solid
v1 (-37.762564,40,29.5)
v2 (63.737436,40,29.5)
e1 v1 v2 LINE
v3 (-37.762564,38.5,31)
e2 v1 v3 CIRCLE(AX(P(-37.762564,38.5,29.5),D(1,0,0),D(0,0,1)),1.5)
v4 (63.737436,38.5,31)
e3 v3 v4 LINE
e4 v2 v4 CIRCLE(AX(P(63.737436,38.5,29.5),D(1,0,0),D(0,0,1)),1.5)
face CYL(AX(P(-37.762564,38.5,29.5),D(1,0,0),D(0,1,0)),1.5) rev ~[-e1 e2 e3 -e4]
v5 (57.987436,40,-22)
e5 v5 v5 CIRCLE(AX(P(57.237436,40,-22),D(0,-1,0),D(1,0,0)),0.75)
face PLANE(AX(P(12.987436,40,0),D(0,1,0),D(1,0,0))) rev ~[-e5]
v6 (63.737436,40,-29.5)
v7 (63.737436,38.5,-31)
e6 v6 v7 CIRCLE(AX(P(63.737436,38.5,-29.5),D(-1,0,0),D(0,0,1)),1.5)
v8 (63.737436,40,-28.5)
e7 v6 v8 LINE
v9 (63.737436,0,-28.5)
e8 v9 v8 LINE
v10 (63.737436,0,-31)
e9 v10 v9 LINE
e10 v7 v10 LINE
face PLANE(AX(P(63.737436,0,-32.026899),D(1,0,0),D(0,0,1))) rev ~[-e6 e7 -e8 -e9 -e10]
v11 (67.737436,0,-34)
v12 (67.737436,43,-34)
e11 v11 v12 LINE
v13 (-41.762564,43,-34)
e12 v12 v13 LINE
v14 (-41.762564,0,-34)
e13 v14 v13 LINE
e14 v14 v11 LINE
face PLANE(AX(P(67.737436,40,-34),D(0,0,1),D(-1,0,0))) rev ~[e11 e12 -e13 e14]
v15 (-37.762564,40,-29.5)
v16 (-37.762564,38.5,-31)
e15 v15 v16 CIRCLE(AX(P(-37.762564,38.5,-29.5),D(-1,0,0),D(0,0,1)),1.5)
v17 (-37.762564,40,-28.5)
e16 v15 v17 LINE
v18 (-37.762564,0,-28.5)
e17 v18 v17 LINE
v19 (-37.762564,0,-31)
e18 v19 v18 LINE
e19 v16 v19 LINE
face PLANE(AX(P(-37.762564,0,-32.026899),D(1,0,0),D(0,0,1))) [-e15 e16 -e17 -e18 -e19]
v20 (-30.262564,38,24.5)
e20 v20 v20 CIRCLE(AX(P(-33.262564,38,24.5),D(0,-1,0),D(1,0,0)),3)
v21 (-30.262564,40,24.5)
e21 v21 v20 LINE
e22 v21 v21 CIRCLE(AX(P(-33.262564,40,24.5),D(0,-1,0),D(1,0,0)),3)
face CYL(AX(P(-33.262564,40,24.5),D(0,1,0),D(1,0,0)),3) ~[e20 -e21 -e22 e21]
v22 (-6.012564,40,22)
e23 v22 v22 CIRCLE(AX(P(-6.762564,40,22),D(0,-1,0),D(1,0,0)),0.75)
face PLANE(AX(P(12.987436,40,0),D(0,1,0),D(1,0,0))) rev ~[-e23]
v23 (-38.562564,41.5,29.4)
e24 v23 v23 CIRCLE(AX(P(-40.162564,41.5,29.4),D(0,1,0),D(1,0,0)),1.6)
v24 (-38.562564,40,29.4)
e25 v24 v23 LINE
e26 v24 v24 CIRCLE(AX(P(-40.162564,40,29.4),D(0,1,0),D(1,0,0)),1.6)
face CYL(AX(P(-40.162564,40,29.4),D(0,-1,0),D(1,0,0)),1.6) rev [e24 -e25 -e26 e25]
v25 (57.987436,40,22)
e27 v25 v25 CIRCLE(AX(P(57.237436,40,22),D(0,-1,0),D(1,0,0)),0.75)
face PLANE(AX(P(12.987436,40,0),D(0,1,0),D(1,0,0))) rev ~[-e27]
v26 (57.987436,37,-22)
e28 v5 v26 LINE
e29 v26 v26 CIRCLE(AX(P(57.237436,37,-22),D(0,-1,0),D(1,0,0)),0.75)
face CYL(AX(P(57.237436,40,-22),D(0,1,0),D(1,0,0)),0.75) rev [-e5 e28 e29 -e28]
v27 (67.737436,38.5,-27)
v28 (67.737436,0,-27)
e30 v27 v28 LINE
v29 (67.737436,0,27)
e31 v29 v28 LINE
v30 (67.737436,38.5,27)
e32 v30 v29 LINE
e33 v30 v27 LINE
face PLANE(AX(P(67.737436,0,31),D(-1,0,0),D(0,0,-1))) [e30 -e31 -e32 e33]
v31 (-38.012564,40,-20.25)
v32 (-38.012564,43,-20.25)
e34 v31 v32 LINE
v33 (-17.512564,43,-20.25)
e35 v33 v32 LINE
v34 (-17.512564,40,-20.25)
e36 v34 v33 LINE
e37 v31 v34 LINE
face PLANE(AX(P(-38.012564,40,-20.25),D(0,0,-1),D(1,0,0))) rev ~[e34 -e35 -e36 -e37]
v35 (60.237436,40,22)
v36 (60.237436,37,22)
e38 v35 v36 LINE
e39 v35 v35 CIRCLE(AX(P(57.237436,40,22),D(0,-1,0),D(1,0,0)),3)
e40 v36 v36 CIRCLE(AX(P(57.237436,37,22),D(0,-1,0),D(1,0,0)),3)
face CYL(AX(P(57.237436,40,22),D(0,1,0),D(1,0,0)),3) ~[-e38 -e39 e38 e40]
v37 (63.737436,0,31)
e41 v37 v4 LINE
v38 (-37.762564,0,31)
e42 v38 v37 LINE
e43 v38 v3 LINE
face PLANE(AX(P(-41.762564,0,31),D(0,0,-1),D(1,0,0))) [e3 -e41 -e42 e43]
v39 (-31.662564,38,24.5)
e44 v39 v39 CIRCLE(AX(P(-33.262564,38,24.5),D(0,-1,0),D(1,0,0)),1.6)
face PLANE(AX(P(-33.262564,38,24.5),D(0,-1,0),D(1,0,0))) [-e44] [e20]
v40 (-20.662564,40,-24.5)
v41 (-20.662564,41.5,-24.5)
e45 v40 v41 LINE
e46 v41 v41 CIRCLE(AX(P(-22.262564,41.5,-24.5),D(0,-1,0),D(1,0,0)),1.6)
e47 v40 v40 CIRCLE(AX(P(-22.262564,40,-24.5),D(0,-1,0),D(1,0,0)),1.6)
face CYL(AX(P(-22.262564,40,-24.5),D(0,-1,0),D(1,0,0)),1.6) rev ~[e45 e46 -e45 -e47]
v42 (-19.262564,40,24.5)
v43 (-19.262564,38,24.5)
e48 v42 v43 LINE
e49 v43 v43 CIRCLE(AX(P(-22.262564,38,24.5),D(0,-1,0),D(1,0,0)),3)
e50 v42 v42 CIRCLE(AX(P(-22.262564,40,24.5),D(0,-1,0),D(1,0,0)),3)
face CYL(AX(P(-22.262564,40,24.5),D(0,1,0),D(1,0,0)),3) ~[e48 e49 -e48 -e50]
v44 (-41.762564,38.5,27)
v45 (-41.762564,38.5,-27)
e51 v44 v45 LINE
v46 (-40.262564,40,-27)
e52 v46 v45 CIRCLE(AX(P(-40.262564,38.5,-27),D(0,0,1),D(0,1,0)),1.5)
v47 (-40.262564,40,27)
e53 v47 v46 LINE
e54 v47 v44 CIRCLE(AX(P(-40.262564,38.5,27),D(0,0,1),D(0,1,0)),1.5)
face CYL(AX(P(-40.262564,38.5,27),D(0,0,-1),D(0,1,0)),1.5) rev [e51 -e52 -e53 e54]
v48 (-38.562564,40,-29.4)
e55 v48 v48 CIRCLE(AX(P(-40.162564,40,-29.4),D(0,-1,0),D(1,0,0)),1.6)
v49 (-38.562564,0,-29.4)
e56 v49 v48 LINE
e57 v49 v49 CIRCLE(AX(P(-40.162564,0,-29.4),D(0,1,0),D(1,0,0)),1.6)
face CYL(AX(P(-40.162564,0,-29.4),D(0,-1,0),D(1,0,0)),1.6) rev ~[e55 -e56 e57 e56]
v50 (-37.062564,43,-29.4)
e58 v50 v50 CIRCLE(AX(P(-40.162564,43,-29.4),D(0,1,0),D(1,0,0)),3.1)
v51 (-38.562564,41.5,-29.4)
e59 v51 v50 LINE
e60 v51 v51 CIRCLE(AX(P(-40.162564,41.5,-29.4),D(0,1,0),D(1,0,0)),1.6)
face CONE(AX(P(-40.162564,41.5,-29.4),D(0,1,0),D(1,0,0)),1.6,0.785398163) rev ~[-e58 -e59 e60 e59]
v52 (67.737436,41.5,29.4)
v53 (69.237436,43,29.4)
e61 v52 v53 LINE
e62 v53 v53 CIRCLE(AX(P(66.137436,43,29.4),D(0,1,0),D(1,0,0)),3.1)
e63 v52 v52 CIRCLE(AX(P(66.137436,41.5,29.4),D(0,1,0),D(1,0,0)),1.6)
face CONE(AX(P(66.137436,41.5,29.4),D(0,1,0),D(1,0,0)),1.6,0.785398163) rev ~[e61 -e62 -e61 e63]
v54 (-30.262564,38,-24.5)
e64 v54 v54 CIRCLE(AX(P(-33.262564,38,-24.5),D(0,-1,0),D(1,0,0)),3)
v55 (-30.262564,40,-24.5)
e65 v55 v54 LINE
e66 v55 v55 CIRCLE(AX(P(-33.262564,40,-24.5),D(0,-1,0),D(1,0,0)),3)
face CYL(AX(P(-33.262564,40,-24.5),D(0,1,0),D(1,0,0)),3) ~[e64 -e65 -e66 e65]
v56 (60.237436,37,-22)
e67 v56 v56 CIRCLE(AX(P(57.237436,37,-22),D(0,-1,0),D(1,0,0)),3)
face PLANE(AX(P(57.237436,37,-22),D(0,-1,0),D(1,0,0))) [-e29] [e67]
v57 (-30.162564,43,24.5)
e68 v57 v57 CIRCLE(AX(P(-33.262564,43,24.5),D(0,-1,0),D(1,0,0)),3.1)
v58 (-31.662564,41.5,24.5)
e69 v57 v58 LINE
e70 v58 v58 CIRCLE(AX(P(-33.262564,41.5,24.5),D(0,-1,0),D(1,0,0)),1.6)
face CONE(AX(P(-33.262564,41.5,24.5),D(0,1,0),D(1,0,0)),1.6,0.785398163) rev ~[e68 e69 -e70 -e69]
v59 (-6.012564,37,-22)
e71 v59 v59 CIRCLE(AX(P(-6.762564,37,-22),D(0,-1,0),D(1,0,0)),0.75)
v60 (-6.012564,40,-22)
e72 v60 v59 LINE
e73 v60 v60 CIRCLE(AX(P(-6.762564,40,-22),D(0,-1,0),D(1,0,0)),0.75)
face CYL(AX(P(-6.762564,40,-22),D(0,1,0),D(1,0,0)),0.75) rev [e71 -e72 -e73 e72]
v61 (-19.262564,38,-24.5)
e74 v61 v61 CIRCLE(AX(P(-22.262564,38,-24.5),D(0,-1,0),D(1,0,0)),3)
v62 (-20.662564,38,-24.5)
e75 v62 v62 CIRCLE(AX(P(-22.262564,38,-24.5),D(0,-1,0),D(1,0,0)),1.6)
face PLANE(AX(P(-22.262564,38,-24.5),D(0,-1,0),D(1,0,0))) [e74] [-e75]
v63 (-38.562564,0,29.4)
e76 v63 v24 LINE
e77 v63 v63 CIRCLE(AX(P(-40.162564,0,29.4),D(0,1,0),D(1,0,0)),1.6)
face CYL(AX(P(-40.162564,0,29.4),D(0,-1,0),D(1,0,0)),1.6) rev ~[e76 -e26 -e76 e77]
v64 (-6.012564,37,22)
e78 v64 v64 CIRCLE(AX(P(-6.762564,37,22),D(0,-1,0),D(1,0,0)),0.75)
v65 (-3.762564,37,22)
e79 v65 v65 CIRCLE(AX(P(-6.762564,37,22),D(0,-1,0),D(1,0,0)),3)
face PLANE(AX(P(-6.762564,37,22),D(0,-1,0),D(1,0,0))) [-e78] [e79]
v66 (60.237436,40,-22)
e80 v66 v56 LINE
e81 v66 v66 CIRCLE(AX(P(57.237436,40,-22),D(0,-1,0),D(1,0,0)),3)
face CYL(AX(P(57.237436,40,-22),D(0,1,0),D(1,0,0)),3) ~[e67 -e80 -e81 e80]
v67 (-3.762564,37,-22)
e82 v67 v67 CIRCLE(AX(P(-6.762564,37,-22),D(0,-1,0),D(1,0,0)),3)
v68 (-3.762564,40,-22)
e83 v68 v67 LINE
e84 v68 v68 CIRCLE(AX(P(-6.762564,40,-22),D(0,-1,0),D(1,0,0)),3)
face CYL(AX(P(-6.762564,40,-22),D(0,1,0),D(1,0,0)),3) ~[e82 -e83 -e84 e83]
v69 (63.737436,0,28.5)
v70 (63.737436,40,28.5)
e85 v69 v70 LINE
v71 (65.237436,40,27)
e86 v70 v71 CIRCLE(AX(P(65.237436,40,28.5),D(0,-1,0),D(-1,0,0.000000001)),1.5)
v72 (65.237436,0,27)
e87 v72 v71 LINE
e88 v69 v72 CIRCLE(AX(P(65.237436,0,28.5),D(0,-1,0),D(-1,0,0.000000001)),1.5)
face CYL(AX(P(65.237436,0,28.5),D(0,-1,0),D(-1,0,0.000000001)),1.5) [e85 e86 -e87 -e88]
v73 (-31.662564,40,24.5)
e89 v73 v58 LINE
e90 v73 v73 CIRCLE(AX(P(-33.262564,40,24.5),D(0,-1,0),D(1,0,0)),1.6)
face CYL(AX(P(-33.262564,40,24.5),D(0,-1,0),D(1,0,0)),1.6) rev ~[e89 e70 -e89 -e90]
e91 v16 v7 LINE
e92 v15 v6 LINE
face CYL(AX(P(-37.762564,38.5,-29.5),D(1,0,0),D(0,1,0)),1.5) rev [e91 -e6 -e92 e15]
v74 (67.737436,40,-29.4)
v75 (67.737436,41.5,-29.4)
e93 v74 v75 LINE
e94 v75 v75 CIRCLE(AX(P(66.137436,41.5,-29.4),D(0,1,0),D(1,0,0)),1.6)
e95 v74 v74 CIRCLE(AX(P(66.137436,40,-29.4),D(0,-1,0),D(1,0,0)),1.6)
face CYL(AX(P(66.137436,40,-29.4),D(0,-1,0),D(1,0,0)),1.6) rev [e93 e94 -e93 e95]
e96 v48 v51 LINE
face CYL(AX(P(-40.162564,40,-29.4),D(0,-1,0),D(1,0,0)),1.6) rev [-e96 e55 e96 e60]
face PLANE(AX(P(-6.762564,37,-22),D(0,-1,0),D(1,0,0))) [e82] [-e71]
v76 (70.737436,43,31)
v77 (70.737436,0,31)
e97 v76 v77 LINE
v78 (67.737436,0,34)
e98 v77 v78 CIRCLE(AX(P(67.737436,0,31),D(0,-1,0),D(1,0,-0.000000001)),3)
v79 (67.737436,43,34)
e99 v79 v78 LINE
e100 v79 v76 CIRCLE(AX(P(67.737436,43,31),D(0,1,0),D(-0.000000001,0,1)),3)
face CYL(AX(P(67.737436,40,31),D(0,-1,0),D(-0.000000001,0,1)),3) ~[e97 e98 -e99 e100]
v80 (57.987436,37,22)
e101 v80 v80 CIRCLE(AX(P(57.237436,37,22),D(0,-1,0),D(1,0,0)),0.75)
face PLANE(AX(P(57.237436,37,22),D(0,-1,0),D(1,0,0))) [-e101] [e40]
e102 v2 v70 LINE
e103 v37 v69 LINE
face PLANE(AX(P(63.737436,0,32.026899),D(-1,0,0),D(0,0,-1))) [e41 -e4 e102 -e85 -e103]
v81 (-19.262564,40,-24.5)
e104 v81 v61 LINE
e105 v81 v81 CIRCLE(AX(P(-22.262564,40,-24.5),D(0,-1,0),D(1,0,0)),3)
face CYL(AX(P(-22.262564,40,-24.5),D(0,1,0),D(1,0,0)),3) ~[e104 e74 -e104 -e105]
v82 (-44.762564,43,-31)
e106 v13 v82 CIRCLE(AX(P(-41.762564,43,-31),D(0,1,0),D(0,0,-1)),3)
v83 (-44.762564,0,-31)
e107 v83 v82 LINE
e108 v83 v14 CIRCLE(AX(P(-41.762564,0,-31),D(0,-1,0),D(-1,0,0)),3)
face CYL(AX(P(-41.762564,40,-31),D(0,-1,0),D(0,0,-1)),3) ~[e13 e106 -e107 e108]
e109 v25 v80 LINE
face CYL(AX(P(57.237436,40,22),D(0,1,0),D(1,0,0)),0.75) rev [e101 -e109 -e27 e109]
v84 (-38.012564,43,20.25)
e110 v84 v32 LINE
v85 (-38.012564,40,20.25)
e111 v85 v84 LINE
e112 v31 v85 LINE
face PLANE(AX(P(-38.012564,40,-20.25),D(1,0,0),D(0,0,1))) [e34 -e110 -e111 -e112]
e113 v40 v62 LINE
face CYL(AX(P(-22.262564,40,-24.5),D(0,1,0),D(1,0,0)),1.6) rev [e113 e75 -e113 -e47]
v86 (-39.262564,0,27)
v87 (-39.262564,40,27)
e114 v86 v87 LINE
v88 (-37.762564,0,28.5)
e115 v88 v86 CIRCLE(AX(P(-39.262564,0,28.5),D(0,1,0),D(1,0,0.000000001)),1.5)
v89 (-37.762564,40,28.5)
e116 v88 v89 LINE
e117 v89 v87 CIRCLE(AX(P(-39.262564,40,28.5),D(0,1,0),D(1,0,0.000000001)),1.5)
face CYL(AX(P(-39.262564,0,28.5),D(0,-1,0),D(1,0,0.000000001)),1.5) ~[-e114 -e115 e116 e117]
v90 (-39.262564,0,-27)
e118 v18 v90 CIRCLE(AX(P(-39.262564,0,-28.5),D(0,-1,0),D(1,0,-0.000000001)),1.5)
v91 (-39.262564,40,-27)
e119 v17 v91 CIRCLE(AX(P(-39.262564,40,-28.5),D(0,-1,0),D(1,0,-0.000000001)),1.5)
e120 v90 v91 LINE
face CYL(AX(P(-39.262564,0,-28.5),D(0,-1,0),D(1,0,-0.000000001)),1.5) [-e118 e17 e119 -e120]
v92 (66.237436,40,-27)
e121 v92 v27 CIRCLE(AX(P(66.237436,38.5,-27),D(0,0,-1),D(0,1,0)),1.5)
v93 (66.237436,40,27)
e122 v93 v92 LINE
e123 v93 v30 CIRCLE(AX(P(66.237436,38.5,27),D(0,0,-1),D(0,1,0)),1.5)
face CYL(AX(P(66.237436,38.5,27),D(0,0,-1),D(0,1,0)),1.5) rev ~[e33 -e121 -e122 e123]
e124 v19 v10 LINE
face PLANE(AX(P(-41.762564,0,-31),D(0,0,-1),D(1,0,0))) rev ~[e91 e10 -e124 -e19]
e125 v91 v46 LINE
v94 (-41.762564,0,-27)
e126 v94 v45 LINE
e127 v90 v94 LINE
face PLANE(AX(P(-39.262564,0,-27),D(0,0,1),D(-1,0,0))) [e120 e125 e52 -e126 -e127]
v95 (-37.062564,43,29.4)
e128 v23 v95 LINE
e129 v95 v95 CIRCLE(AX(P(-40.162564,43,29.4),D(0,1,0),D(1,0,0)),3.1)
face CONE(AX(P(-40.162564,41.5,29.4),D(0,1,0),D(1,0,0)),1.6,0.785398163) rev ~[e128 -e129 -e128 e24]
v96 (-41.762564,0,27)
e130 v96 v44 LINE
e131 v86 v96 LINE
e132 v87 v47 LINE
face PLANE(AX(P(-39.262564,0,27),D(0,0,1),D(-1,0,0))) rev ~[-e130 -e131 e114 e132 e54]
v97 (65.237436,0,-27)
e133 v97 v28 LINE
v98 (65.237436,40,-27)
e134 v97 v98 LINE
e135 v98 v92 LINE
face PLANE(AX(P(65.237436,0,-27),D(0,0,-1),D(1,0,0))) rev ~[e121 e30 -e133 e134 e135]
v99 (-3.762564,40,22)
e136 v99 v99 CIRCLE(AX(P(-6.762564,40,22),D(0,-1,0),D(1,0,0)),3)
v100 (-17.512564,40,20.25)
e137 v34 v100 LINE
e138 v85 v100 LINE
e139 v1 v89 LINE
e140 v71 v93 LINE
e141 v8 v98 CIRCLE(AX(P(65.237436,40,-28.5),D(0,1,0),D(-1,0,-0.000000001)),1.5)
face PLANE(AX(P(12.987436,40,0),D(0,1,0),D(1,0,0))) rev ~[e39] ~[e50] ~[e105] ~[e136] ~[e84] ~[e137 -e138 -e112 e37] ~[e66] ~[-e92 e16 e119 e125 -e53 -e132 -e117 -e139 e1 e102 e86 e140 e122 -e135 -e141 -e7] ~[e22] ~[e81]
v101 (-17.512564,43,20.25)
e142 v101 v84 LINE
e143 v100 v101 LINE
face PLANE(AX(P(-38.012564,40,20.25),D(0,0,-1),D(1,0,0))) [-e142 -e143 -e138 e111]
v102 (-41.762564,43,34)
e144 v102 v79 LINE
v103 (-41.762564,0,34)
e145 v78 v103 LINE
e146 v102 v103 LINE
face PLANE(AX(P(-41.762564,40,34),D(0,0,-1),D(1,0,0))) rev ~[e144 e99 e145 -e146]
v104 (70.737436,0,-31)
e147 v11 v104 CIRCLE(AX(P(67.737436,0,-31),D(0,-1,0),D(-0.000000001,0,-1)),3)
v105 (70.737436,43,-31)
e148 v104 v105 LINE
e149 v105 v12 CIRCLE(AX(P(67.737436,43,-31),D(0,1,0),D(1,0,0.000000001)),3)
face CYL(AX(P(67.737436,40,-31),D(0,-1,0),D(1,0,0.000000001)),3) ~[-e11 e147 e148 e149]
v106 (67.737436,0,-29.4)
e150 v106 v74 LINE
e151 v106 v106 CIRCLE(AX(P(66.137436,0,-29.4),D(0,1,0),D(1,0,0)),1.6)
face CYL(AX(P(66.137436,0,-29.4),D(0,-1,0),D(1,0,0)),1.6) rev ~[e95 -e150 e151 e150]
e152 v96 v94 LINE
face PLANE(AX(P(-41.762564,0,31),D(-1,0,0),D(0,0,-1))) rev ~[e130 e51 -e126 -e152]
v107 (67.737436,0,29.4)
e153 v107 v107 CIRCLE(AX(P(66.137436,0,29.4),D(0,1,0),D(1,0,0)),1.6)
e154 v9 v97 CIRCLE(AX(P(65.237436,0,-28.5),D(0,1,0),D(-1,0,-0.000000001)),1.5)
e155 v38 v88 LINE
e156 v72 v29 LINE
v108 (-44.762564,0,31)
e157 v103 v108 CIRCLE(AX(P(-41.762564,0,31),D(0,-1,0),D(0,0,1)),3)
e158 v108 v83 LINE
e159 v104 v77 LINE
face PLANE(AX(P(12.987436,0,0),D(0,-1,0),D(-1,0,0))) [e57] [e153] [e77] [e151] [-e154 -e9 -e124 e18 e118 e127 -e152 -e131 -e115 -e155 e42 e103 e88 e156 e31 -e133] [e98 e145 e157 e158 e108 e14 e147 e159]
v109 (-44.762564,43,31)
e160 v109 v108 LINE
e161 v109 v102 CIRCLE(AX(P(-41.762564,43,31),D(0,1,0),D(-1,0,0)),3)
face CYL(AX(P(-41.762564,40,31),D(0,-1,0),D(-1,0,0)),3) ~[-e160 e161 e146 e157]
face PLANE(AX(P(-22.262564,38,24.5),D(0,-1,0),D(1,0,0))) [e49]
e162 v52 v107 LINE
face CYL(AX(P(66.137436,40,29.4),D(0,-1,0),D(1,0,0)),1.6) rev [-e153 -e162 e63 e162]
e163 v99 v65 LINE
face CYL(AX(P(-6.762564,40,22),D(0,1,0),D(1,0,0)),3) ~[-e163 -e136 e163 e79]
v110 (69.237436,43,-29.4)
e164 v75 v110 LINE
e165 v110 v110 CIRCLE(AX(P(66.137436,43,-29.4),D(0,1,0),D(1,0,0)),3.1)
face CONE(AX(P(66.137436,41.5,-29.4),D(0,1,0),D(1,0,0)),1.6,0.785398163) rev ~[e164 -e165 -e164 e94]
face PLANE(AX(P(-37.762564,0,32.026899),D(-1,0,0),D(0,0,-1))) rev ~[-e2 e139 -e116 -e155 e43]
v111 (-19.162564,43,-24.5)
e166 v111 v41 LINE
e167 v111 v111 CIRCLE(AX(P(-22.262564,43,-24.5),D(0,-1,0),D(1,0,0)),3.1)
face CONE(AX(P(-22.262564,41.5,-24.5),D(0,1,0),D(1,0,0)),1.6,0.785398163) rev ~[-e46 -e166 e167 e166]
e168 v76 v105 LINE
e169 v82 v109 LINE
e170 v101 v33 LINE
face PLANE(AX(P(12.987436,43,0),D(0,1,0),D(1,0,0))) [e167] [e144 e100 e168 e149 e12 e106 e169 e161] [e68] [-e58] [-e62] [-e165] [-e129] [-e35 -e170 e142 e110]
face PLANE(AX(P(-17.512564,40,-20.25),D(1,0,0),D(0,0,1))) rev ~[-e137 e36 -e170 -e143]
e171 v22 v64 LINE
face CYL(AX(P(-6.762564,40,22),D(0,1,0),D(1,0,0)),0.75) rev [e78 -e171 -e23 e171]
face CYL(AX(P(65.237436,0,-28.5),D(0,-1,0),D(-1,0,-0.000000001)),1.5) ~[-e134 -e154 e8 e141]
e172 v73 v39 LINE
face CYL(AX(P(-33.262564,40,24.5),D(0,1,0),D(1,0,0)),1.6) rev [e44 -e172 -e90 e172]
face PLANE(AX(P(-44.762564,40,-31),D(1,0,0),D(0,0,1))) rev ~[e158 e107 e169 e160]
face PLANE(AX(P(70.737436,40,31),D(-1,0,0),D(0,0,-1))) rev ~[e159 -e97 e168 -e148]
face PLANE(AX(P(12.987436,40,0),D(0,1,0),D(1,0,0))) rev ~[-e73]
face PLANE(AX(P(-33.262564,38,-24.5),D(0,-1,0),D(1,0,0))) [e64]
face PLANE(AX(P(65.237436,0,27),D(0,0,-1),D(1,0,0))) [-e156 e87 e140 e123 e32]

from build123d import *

# Parameters (mm, degrees)
SKETCH_3_W          = 109.5
SKETCH_3_H          = 62
EXTRUDE_2_DEPTH     = 40
SKETCH_5_R          = 1.6
EXTRUDE_2_2_DEPTH   = 40
SKETCH_7_R          = 1.6
EXTRUDE_3_DEPTH     = 3
CHAMFER_1_SIZE      = 1.5
SKETCH_9_R          = 3
SKETCH_9_R_2        = 0.75
EXTRUDE_4_DEPTH     = 3
SKETCH_10_R         = 1.6
SKETCH_10_W         = 20.5
SKETCH_10_H         = 40.5
CUT_EXTRUDE_1_DEPTH = 4
CHAMFER_2_SIZE      = 1.5
FILLET_2_R          = 1.5
FILLET_3_R          = 1.5
SKETCH_12_R         = 3
SKETCH_12_R_2       = 1.6
EXTRUDE_5_DEPTH     = 2


with BuildPart() as part:
    # Эскиз3 → Extrude 2 (new body)
    with BuildSketch(Plane(origin=(0, 0, 0), x_dir=(1, 0, 0), z_dir=(0, 1, 0))):
        with BuildLine():
            Line((-41.762564045, 34), (67.737435955, 34))
            ThreePointArc((67.737435955, 34), (69.858756299, 33.121320344), (70.737435955, 31))
            Line((70.737435955, 31), (70.737435955, -31))
            ThreePointArc((70.737435955, -31), (69.858756299, -33.121320344), (67.737435955, -34))
            Line((67.737435955, -34), (-41.762564045, -34))
            ThreePointArc((-41.762564045, -34), (-43.883884388, -33.121320344), (-44.762564045, -31))
            Line((-44.762564045, -31), (-44.762564045, 31))
            ThreePointArc((-44.762564045, 31), (-43.883884388, 33.121320344), (-41.762564045, 34))
        make_face()
        with Locations((12.987435955, 0)):
            Rectangle(SKETCH_3_W, SKETCH_3_H, mode=Mode.SUBTRACT)
    extrude(amount=EXTRUDE_2_DEPTH)

    # Эскиз5 → Extrude 2 2 (add)
    with BuildSketch(Plane.XZ):
        with BuildLine():
            Line((-43.498616626, 27), (-43.498616626, 32.026898844))
            Line((-43.498616626, 32.026898844), (-37.762564045, 32.026898844))
            Line((-37.762564045, 32.026898844), (-37.762564045, 28.5))
            ThreePointArc((-37.762564045, 28.5), (-38.201903873, 27.439339828), (-39.262564045, 27))
            Line((-39.262564045, 27), (-43.498616626, 27))
        make_face()
        with Locations((-40.162564045, 29.4)):
            Circle(SKETCH_5_R, mode=Mode.SUBTRACT)
        with BuildLine():
            Line((-43.498616626, -32.026898844), (-37.762564045, -32.026898844))
            Line((-37.762564045, -32.026898844), (-37.762564045, -28.5))
            ThreePointArc((-37.762564045, -28.5), (-38.201903873, -27.439339828), (-39.262564045, -27))
            Line((-39.262564045, -27), (-43.498616626, -27))
            Line((-43.498616626, -27), (-43.498616626, -32.026898844))
        make_face()
        with Locations((-40.162564045, -29.4)):
            Circle(SKETCH_5_R, mode=Mode.SUBTRACT)
        with BuildLine():
            Line((69.473488536, -27), (69.473488536, -32.026898844))
            Line((69.473488536, -32.026898844), (63.737435955, -32.026898844))
            Line((63.737435955, -32.026898844), (63.737435955, -28.5))
            ThreePointArc((63.737435955, -28.5), (64.176775783, -27.439339828), (65.237435955, -27))
            Line((65.237435955, -27), (69.473488536, -27))
        make_face()
        with Locations((66.137435955, -29.4)):
            Circle(SKETCH_5_R, mode=Mode.SUBTRACT)
        with BuildLine():
            Line((69.473488536, 32.026898844), (63.737435955, 32.026898844))
            Line((63.737435955, 32.026898844), (63.737435955, 28.5))
            ThreePointArc((63.737435955, 28.5), (64.176775783, 27.439339828), (65.237435955, 27))
            Line((65.237435955, 27), (69.473488536, 27))
            Line((69.473488536, 27), (69.473488536, 32.026898844))
        make_face()
        with Locations((66.137435955, 29.4)):
            Circle(SKETCH_5_R, mode=Mode.SUBTRACT)
    extrude(amount=-EXTRUDE_2_2_DEPTH)

    # Эскиз7 → Бобышка-Вытянуть3 (add)
    with BuildSketch(Plane(origin=(0, 40, 0), x_dir=(1, 0, 0), z_dir=(0, 1, 0))):
        with BuildLine():
            Line((70.737435955, -31), (70.737435955, 31))
            ThreePointArc((70.737435955, 31), (69.858756299, 33.121320344), (67.737435955, 34))
            Line((67.737435955, 34), (-41.762564045, 34))
            ThreePointArc((-41.762564045, 34), (-43.883884388, 33.121320344), (-44.762564045, 31))
            Line((-44.762564045, 31), (-44.762564045, -31))
            ThreePointArc((-44.762564045, -31), (-43.883884388, -33.121320344), (-41.762564045, -34))
            Line((-41.762564045, -34), (67.737435955, -34))
            ThreePointArc((67.737435955, -34), (69.858756299, -33.121320344), (70.737435955, -31))
        make_face()
        with Locations((66.137435955, 29.4)):
            Circle(SKETCH_7_R, mode=Mode.SUBTRACT)
        with Locations((66.137435955, -29.4)):
            Circle(SKETCH_7_R, mode=Mode.SUBTRACT)
        with Locations((-40.162564045, -29.4)):
            Circle(SKETCH_7_R, mode=Mode.SUBTRACT)
        with Locations((-40.162564045, 29.4)):
            Circle(SKETCH_7_R, mode=Mode.SUBTRACT)
    extrude(amount=EXTRUDE_3_DEPTH)

    # Фаска1
    chamfer_1_edges = [part.edges().sort_by_distance(p)[0] for p in [
        (64.537435955, 43, -29.4),
        (64.537435955, 43, 29.4),
        (-41.762564045, 43, 29.4),
        (-41.762564045, 43, -29.4),
    ]]
    chamfer(chamfer_1_edges, length=CHAMFER_1_SIZE)

    # Эскиз9 → Бобышка-Вытянуть4 (add)
    with BuildSketch(Plane.XZ.offset(-40)):
        with Locations((-6.762564044, 22.000000001)):
            Circle(SKETCH_9_R)
        with Locations((-6.762564044, 22.000000001)):
            Circle(SKETCH_9_R_2, mode=Mode.SUBTRACT)
        with Locations((57.237435954, 22.000000001)):
            Circle(SKETCH_9_R)
        with Locations((57.237435954, 22.000000001)):
            Circle(SKETCH_9_R_2, mode=Mode.SUBTRACT)
        with Locations((57.237435954, -21.999999999)):
            Circle(SKETCH_9_R)
        with Locations((57.237435954, -21.999999999)):
            Circle(SKETCH_9_R_2, mode=Mode.SUBTRACT)
        with Locations((-6.762564044, -21.999999999)):
            Circle(SKETCH_9_R)
        with Locations((-6.762564044, -21.999999999)):
            Circle(SKETCH_9_R_2, mode=Mode.SUBTRACT)
    extrude(amount=EXTRUDE_4_DEPTH)

    # Эскиз10 → Вырез-Вытянуть1 (cut, through all)
    with BuildSketch(Plane.XZ.offset(-40)):
        with Locations((-33.262564045, 24.5)):
            Circle(SKETCH_10_R)
        with Locations((-22.262564045, -24.5)):
            Circle(SKETCH_10_R)
        with Locations((-27.762564045, 0)):
            Rectangle(SKETCH_10_W, SKETCH_10_H)
    extrude(amount=-CUT_EXTRUDE_1_DEPTH, mode=Mode.SUBTRACT)

    # Фаска2
    chamfer_2_edges = [part.edges().sort_by_distance(p)[0] for p in [
        (-34.862564045, 43, 24.5),
        (-23.862564045, 43, -24.5),
    ]]
    chamfer(chamfer_2_edges, length=CHAMFER_2_SIZE)

    # Скругление2
    fillet_2_edges = [part.edges().sort_by_distance(p)[0] for p in [
        (12.987435955, 40, 31),
    ]]
    fillet(fillet_2_edges, radius=FILLET_2_R)

    # Скругление3
    fillet_3_edges = [part.edges().sort_by_distance(p)[0] for p in [
        (67.737435955, 40, 0),
        (-41.762564045, 40, 0),
        (12.987435955, 40, -31),
    ]]
    fillet(fillet_3_edges, radius=FILLET_3_R)

    # Эскиз12 → Бобышка-Вытянуть5 (add)
    with BuildSketch(Plane.XZ.offset(-40)):
        with Locations((-33.262564045, 24.5)):
            Circle(SKETCH_12_R)
        with Locations((-33.262564045, 24.5)):
            Circle(SKETCH_12_R_2, mode=Mode.SUBTRACT)
        with Locations((-22.262564045, -24.5)):
            Circle(SKETCH_12_R)
        with Locations((-22.262564045, -24.5)):
            Circle(SKETCH_12_R_2, mode=Mode.SUBTRACT)
        with Locations((-33.262564045, -24.5)):
            Circle(SKETCH_12_R)
        with Locations((-22.262564045, 24.5)):
            Circle(SKETCH_12_R)
    extrude(amount=EXTRUDE_5_DEPTH)


solid = part.part
